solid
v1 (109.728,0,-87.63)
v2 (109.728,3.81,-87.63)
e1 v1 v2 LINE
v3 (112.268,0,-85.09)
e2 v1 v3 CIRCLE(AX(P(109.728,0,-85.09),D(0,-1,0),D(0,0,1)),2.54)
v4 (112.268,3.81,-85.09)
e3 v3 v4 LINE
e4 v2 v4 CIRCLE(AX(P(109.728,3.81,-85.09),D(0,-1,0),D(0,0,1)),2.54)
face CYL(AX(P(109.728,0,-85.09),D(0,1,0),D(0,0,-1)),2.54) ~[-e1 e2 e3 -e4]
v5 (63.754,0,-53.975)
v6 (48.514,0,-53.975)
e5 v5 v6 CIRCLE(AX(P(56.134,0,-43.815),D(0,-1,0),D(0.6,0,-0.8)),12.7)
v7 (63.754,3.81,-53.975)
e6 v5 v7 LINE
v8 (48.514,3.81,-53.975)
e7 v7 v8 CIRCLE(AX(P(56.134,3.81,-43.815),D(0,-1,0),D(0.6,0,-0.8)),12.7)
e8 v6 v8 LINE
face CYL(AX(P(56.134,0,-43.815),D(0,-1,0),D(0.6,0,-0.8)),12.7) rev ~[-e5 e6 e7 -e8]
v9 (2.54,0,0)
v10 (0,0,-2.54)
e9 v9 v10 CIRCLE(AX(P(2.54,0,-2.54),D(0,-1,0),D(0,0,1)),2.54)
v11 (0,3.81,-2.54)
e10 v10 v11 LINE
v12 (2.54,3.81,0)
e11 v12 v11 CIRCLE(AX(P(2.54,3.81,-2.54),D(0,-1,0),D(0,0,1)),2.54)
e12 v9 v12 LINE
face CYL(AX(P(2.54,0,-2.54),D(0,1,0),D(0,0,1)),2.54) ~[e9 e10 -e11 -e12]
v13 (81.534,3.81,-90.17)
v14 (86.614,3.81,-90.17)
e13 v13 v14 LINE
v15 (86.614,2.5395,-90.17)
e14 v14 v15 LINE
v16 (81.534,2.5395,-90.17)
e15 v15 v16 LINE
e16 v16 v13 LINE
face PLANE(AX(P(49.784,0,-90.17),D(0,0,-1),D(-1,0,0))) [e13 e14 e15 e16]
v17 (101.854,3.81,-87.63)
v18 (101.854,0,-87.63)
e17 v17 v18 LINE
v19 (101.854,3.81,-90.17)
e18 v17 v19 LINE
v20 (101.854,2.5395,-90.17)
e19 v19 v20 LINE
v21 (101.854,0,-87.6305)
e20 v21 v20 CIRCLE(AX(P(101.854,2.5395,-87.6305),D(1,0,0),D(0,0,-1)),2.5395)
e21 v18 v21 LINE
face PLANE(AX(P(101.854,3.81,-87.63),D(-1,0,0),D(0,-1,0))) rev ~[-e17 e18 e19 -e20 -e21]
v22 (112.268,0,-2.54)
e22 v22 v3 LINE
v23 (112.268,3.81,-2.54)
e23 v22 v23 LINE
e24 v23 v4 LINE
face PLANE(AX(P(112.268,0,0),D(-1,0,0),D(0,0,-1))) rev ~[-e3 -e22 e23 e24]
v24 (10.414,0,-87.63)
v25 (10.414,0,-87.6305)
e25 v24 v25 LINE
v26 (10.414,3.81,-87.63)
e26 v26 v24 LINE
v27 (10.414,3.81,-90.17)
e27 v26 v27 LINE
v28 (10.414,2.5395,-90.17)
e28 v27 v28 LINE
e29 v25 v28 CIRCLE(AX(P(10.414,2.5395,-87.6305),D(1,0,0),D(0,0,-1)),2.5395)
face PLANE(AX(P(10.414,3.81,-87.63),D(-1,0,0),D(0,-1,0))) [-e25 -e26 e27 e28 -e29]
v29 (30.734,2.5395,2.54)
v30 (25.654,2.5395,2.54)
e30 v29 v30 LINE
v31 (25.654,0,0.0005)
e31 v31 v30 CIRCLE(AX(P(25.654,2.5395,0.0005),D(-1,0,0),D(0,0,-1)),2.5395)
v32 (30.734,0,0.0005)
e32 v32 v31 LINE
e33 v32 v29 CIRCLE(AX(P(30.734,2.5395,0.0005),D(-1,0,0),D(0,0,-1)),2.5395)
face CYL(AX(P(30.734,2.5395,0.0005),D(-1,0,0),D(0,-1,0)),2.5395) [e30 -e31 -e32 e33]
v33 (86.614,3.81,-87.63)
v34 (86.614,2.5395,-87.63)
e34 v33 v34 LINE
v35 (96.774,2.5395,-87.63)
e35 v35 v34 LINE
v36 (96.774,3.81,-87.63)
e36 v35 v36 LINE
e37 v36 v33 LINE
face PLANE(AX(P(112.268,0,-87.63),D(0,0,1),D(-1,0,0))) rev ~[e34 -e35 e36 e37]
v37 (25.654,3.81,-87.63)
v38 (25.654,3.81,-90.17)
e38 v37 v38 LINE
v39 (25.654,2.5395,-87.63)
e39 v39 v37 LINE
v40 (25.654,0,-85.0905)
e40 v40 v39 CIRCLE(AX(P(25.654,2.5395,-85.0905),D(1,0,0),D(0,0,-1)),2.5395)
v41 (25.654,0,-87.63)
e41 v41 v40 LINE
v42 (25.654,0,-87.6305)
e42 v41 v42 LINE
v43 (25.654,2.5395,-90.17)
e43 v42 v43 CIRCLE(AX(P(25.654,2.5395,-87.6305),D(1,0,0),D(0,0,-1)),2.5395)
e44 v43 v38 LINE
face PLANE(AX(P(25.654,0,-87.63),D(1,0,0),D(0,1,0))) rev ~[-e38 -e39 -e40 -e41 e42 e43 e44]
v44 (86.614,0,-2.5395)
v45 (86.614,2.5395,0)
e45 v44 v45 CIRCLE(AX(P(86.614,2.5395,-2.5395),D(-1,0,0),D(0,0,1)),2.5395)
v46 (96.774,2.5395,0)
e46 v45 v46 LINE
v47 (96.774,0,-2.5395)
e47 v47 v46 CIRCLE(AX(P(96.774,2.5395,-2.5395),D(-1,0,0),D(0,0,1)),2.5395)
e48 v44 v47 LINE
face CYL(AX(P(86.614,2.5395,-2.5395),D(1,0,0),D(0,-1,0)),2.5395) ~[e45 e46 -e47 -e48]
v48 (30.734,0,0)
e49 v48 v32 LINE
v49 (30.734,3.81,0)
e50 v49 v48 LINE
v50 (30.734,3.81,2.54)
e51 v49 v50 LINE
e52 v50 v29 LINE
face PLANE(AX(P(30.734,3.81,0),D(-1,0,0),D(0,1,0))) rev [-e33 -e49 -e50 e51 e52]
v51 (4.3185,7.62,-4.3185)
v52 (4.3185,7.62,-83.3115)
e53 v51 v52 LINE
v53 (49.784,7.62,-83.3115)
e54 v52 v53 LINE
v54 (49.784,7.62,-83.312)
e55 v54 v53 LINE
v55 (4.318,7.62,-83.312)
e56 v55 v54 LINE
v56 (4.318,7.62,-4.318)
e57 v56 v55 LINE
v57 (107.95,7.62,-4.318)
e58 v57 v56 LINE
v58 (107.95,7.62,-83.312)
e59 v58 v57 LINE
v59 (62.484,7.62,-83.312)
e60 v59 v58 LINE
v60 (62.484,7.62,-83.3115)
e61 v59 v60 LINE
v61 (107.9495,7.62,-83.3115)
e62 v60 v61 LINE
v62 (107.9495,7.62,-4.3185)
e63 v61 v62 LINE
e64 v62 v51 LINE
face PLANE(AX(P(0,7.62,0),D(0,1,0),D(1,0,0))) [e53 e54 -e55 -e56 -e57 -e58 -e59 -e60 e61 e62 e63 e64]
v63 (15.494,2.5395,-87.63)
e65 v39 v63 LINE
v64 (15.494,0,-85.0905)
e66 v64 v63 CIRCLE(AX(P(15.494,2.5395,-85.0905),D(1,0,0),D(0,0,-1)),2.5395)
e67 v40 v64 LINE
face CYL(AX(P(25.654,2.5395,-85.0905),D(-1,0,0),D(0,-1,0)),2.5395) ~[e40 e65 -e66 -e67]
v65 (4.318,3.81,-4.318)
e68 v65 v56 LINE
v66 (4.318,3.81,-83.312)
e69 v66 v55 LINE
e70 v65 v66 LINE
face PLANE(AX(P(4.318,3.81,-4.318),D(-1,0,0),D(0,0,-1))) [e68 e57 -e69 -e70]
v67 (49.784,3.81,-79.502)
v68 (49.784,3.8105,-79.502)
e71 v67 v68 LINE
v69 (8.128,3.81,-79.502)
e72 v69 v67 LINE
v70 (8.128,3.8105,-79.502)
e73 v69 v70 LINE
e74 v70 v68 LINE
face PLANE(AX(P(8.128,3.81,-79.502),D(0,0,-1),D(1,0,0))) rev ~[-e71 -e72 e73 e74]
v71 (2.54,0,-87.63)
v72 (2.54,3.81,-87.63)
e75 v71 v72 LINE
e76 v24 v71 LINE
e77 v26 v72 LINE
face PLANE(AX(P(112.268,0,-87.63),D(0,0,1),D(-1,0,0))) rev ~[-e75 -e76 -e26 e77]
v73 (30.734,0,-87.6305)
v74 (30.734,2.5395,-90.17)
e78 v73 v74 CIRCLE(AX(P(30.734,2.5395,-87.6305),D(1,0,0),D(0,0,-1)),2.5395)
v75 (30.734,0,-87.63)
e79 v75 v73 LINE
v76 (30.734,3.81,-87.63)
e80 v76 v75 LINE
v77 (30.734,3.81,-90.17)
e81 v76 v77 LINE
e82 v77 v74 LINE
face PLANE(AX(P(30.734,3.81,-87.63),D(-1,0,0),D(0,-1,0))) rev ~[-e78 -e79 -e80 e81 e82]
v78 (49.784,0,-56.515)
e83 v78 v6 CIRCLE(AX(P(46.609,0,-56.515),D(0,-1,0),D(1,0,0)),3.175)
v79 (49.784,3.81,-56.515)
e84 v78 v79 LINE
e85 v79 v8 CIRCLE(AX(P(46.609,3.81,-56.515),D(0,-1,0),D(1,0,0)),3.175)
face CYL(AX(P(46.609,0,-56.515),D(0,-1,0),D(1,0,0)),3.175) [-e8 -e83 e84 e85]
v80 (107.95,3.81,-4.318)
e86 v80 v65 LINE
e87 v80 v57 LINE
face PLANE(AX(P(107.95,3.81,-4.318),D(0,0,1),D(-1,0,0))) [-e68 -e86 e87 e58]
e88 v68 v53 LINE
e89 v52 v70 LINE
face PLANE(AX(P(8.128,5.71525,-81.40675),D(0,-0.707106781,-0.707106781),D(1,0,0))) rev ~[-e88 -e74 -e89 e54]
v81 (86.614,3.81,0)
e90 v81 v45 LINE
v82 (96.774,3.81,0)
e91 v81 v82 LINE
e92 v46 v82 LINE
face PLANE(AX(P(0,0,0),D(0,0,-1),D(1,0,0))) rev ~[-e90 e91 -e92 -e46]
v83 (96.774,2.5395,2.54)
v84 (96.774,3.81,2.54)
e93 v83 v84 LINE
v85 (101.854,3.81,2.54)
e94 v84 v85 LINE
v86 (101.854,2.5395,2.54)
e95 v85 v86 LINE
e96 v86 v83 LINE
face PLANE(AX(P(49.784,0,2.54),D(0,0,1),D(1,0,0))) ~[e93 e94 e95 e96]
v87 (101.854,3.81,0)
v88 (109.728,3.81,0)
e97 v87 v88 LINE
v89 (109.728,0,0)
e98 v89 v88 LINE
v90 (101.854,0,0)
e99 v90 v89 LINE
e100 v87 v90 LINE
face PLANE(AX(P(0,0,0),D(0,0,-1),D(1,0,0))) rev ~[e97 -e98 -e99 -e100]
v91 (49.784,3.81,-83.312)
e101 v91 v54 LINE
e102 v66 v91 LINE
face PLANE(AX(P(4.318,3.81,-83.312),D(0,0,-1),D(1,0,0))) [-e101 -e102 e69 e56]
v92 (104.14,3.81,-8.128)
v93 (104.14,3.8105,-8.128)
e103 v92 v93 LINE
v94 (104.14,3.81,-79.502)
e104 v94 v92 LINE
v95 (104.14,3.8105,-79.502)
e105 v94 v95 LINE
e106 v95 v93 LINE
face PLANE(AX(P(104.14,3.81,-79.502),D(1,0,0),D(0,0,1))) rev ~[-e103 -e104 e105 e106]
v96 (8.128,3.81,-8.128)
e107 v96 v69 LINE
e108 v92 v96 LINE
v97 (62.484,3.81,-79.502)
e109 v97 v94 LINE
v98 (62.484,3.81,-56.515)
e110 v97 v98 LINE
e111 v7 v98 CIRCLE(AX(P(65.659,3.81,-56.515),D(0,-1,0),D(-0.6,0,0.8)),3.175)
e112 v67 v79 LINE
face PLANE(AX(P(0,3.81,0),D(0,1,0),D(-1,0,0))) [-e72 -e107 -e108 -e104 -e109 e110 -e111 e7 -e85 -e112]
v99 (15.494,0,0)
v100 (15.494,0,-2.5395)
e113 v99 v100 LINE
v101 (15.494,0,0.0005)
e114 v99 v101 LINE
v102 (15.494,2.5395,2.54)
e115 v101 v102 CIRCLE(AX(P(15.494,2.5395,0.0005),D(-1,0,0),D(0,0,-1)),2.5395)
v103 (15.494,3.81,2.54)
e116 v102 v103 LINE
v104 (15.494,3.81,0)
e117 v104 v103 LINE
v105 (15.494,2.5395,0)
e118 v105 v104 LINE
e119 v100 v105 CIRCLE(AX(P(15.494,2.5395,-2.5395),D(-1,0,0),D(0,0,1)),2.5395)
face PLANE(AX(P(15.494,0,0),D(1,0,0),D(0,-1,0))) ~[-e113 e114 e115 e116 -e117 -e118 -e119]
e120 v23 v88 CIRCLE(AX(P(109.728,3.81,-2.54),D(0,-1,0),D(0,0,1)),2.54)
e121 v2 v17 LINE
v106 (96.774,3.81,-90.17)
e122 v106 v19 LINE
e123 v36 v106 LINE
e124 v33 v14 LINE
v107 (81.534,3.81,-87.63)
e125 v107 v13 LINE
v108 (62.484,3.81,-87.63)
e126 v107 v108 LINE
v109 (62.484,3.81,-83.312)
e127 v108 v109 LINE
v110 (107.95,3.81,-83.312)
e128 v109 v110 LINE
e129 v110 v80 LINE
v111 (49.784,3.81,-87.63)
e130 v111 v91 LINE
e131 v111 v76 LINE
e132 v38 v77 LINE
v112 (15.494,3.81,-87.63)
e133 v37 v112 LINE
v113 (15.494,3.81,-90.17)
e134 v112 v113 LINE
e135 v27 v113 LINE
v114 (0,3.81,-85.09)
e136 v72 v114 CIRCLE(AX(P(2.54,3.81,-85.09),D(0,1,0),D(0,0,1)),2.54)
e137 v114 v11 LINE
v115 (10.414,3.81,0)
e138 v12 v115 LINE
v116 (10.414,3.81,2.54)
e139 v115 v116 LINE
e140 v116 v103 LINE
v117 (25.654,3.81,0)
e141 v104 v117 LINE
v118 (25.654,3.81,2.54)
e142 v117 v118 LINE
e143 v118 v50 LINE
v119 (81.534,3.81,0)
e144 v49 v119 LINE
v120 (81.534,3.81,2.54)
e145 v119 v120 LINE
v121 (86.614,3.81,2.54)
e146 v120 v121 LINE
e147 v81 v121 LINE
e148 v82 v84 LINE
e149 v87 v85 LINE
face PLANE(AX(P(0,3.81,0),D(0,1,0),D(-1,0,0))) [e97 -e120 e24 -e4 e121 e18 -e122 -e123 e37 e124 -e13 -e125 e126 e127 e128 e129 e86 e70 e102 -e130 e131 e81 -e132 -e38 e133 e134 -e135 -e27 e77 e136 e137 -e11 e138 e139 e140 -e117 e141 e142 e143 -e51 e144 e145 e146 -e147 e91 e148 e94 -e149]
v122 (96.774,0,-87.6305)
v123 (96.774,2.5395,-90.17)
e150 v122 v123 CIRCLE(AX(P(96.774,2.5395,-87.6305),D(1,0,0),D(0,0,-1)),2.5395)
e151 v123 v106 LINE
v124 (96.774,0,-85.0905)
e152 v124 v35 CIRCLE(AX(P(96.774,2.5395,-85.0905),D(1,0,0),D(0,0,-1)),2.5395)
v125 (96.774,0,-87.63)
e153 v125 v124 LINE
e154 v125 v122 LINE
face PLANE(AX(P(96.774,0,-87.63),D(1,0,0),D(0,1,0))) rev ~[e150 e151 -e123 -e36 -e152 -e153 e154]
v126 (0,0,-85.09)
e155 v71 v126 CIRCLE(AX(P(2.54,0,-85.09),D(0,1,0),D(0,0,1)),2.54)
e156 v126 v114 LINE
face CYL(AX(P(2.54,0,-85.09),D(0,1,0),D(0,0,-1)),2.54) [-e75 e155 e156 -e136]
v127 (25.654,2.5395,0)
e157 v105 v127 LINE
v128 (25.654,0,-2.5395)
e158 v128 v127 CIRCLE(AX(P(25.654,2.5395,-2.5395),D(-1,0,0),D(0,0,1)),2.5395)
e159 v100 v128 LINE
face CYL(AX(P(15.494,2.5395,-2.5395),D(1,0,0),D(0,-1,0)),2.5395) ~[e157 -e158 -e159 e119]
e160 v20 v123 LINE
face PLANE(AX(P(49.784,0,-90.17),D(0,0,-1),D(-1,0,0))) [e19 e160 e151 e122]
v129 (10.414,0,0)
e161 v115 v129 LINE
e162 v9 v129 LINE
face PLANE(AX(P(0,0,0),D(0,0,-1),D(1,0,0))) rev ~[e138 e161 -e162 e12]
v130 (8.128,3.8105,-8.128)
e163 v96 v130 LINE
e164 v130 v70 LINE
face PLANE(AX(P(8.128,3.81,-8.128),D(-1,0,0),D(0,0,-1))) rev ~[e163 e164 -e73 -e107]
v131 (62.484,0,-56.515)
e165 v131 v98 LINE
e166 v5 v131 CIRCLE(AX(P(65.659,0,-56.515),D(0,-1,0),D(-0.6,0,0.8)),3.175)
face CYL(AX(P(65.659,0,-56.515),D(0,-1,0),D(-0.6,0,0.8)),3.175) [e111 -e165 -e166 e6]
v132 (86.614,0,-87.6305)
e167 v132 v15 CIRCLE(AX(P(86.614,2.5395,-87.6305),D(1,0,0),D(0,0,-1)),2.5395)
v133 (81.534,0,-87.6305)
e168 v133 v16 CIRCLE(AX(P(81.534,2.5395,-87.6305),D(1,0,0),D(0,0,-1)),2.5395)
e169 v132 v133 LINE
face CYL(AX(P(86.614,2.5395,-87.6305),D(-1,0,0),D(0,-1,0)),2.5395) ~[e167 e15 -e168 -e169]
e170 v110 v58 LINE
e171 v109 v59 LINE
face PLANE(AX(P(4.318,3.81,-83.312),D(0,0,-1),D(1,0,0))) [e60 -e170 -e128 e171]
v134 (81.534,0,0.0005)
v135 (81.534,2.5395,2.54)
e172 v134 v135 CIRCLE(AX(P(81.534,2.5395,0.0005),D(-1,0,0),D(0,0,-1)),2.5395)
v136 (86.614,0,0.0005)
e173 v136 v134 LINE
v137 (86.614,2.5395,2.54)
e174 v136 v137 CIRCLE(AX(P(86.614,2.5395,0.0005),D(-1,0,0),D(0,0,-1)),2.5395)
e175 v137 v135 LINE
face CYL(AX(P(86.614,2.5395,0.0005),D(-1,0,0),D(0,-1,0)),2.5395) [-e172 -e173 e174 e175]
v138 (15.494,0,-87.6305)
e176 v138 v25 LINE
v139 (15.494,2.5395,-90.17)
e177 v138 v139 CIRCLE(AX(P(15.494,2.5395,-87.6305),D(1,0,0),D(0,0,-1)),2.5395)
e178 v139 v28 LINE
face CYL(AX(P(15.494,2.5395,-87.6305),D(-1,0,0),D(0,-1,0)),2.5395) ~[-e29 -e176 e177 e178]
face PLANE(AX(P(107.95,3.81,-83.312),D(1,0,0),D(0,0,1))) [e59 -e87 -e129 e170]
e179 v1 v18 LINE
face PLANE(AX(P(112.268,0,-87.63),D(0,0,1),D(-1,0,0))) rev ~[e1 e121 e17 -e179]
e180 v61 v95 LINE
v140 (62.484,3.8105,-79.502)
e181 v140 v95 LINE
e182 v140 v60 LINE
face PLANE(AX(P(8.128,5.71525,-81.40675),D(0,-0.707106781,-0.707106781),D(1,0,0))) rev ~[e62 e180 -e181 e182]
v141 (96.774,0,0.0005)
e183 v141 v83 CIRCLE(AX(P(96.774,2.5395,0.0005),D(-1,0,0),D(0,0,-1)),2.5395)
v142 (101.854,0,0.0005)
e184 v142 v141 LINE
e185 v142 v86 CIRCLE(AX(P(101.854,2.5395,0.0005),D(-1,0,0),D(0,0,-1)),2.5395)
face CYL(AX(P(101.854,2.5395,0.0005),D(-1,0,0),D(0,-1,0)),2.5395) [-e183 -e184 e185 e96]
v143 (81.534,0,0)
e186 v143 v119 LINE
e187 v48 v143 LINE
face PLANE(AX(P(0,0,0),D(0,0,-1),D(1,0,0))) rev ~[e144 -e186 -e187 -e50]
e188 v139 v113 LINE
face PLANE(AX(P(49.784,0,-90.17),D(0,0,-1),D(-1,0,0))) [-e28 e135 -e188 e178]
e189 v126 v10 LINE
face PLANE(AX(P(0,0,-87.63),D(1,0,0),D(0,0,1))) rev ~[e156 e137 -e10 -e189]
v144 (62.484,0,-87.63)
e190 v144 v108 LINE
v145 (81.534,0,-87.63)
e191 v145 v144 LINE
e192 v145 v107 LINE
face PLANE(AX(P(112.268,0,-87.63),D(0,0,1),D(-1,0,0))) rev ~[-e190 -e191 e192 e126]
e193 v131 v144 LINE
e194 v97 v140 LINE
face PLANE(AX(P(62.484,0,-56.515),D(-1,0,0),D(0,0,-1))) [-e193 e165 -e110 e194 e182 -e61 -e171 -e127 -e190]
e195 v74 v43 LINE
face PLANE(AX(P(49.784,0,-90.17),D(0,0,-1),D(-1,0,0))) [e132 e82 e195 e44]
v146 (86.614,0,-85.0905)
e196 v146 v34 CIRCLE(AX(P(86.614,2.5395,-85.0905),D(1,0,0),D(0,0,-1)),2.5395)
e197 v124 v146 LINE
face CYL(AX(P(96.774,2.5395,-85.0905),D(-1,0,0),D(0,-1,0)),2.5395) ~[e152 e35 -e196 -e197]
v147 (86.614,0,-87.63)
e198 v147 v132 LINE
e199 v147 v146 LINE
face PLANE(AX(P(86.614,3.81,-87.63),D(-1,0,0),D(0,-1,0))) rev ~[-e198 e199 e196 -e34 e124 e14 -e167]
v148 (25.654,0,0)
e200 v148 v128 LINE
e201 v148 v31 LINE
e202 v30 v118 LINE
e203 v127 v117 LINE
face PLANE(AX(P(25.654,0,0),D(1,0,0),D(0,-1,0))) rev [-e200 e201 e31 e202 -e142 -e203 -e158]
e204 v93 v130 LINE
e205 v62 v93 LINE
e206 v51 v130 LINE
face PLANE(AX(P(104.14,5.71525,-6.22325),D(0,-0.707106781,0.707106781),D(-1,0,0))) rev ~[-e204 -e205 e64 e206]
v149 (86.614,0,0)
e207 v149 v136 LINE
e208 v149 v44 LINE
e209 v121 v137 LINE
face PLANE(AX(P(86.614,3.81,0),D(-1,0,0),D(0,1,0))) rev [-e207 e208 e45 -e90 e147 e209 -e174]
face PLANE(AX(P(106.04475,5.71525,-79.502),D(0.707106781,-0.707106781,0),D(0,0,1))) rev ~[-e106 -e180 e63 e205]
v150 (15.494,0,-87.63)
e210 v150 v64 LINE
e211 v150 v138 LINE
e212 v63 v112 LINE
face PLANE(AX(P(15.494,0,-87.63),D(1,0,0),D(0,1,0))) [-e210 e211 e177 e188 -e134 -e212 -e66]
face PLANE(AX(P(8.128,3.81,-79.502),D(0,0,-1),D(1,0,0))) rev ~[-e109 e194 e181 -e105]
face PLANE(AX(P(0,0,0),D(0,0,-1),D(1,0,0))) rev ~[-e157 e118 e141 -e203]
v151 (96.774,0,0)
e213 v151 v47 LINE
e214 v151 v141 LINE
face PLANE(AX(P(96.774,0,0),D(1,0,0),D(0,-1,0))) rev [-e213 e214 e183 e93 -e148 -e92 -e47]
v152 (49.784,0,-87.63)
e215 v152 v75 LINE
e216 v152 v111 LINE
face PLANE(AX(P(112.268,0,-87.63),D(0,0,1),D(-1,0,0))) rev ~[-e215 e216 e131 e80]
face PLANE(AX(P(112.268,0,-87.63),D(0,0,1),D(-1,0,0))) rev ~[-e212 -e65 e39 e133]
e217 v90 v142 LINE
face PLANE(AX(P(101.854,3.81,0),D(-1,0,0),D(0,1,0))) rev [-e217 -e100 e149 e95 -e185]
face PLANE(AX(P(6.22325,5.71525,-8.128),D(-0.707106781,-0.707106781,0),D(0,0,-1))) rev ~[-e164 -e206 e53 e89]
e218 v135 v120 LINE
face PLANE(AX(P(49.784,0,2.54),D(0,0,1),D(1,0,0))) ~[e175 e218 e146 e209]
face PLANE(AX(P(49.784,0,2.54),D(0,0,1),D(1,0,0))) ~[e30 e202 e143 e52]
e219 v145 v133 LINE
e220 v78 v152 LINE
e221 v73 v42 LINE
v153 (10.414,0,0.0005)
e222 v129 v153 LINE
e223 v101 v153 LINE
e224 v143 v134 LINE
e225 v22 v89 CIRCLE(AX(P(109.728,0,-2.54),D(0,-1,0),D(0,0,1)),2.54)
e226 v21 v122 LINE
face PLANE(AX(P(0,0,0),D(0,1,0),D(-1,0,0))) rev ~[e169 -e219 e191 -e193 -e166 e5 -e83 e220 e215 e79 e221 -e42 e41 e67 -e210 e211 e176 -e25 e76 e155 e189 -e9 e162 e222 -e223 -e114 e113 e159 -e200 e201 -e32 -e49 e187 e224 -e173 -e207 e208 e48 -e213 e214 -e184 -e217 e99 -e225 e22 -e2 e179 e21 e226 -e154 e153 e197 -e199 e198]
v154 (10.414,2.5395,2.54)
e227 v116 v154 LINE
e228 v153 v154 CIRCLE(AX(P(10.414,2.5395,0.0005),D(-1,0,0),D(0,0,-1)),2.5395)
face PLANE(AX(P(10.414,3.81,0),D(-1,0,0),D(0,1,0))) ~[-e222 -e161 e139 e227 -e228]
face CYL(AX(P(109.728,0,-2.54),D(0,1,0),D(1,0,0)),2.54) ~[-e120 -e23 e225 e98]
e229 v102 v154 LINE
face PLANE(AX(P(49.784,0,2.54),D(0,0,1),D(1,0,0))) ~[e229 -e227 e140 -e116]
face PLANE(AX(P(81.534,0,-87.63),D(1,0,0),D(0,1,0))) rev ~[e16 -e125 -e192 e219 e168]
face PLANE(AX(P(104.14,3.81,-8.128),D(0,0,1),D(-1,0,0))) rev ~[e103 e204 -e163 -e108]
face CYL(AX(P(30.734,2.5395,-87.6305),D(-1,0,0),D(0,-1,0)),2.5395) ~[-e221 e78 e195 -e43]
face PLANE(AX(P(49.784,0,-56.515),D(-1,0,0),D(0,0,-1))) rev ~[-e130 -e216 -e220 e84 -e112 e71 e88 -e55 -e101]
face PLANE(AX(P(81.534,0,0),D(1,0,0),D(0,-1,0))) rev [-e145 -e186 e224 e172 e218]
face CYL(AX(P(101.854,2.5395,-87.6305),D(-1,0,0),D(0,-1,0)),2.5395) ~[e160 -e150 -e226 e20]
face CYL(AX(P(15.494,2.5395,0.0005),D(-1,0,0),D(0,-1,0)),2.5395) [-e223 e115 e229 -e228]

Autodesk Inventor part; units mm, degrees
ref_plane "YZ Plane" through (0, 0, 0) normal (1, 0, 0) x (0, 1, 0)
ref_plane "XZ Plane" through (0, 0, 0) normal (0, 1, 0) x (-1, 0, 0)
sketch "Sketch1" plane through (0, 0, 0) normal (0, 1, 0) x (-1, 0, 0)
  line L0 (0, 0) -> (-112.268, 0)
  line L1 (-112.268, 0) -> (-112.268, -87.63)
  line L2 (-112.268, -87.63) -> (0, -87.63)
  line L3 (0, -87.63) -> (0, 0)
  dimension "d0" = 87.63
  dimension "d1" = 112.268
extrude "Extrusion1" add sketch "Sketch1" along normal blind 3.81
sketch "Sketch2" plane through (0, 3.81, 0) normal (0, 1, 0) x (1, 0, 0)
  line L0 (4.318, 83.312) -> (107.95, 83.312)
  line L1 (107.95, 83.312) -> (107.95, 4.318)
  line L2 (107.95, 4.318) -> (4.318, 4.318)
  line L3 (4.318, 4.318) -> (4.318, 83.312)
  line L4 (112.268, 87.63) -> (0, 87.63) projected
  line L5 (0, 87.63) -> (0, 0) projected
  line L6 (0, 0) -> (112.268, 0) projected
  line L7 (112.268, 0) -> (112.268, 87.63) projected
  line L8 (8.128, 79.502) -> (104.14, 79.502)
  line L9 (104.14, 79.502) -> (104.14, 8.128)
  line L10 (104.14, 8.128) -> (8.128, 8.128)
  line L11 (8.128, 8.128) -> (8.128, 79.502)
  dimension "d4" = 4.318
  dimension "d5" = 4.318
  dimension "d6" = 4.318
  dimension "d7" = 4.318
  dimension "d8" = 3.81
extrude "Extrusion2" add sketch "Sketch2" along normal blind 3.81 contours L0 L1 L2 L3
chamfer "Chamfer1" distance 3.81 angle 45 4 edges at (8.128, 7.62, -43.815) (56.134, 7.62, -79.502) (104.14, 7.62, -43.815) (56.134, 7.62, -8.128)
sketch "Sketch3" plane through (0, 0, 0) normal (0, -1, 0) x (1, 0, 0)
  arc A0 (63.754, -53.975) -> (48.514, -53.975) centre (56.134, -43.815) ccw
  line L0 (112.268, 0) -> (112.268, -87.63) projected
  line L1 (112.268, -87.63) -> (0, -87.63) projected
  line L2 (49.784, -56.515) -> (49.784, -87.63)
  line L3 (62.484, -56.515) -> (62.484, -87.63)
  arc A1 (49.784, -56.515) -> (48.514, -53.975) centre (46.609, -56.515) ccw
  arc A2 (63.754, -53.975) -> (62.484, -56.515) centre (65.659, -56.515) ccw
  point P0 (0, 0)
  point P1 (112.268, -43.815)
  point P2 (56.134, -87.63)
  point P3 (43.434, -43.815)
  point P4 (43.434, -87.63)
  point P5 (68.834, -43.815)
  point P6 (68.834, -87.63)
  point P7 (49.784, -54.8135)
  point P8 (62.484, -54.8135)
  point P9 (56.134, -87.63)
  dimension "d14" = 25.4
  dimension "d17" = 12.7
  dimension "d18" = 6.35
  dimension "d19" = 3.175
extrude "Extrusion3" cut sketch "Sketch3" against normal blind 62.865
fillet "Fillet1" radius 2.54 4 edges at (0, 1.905, -87.63) (112.268, 1.905, -87.63) (112.268, 1.905, 0) (0, 1.905, 0)
sketch "Sketch4" plane through (49.784, 0, -87.63) normal (0, 0, -1) x (-1, 0, 0)
  line L0 (0, 0) -> (47.244, 0) projected
  line L1 (45.466, 3.81) -> (0, 3.81) projected
  line L2 (39.37, 0) -> (34.29, 0)
  line L3 (34.29, 0) -> (34.29, 3.81)
  line L4 (34.29, 3.81) -> (39.37, 3.81)
  line L5 (39.37, 3.81) -> (39.37, 0)
  line L6 (24.13, 3.81) -> (19.05, 3.81)
  line L7 (19.05, 3.81) -> (19.05, 0)
  line L8 (19.05, 0) -> (24.13, 0)
  line L9 (24.13, 0) -> (24.13, 3.81)
  line L10 (-31.75, 3.81) -> (-36.83, 3.81)
  line L11 (-36.83, 3.81) -> (-36.83, 0)
  line L12 (-36.83, 0) -> (-31.75, 0)
  line L13 (-31.75, 0) -> (-31.75, 3.81)
  line L14 (-12.7, 3.81) -> (-58.166, 3.81) projected
  line L15 (-46.99, 3.81) -> (-52.07, 3.81)
  line L16 (-52.07, 3.81) -> (-52.07, 0)
  line L17 (-52.07, 0) -> (-46.99, 0)
  line L18 (-46.99, 0) -> (-46.99, 3.81)
  line L19 (45.466, 7.62) -> (-58.166, 7.62) projected
  point P0 (49.784, 0)
  point P1 (34.29, 1.905)
  point P2 (39.37, 1.905)
  point P3 (19.05, 1.905)
  point P4 (24.13, 1.905)
  point P5 (-36.83, 1.905)
  point P6 (-31.75, 1.905)
  point P7 (-52.07, 1.905)
  point P8 (-46.99, 1.905)
  point P9 (-6.35, 7.62)
  point P10 (-52.07, 3.81)
  point P11 (19.05, 3.81)
  point P12 (19.05, 0)
  dimension "d21" = 5.08
  dimension "d22" = 5.08
  dimension "d23" = 5.08
  dimension "d24" = 5.08
  dimension "d25" = 10.16
  dimension "d26" = 10.16
  dimension "d27" = 50.8
  dimension "d28" = 25.4
extrude "Extrusion4" add sketch "Sketch4" along normal blind 2.54 contours L7 L1 L9 L0 | L3 L1 L5 L0 | L13 L12 L11 L10 | L18 L17 L16 L14
ref_plane "Work Plane1" through (49.784, 0, -43.815) normal (0, 0, -1) x (-1, 0, 0)
mirror "Mirror1" about plane through (49.784, 0, -43.815) normal (0, 0, -1) of "Extrusion4"
fillet "Fillet2" radius 2.54 12 edges at (12.954, 0, -90.17) (20.574, 0, -87.63) (28.194, 0, -90.17) (91.694, 0, -87.63) (99.314, 0, -90.17) (84.074, 0, 2.54) (91.694, 0, 0) (99.314, 0, 2.54) (12.954, 0, 2.54) (20.574, 0, 0) (28.194, 0, 2.54) (84.074, 0, -90.17)
equation "\"d5\" = d4"
equation "\"d6\" = d4"
equation "\"d7\" = d4"
equation "\"d18\" = 0.5 * d17"
equation "\"d22\" = d21"
equation "\"d23\" = d22"
equation "\"d24\" = d23"
equation "\"d26\" = d25"
equation "\"d28\" = 0.5 * d27"
properties part number "Janus wire holder lid"
